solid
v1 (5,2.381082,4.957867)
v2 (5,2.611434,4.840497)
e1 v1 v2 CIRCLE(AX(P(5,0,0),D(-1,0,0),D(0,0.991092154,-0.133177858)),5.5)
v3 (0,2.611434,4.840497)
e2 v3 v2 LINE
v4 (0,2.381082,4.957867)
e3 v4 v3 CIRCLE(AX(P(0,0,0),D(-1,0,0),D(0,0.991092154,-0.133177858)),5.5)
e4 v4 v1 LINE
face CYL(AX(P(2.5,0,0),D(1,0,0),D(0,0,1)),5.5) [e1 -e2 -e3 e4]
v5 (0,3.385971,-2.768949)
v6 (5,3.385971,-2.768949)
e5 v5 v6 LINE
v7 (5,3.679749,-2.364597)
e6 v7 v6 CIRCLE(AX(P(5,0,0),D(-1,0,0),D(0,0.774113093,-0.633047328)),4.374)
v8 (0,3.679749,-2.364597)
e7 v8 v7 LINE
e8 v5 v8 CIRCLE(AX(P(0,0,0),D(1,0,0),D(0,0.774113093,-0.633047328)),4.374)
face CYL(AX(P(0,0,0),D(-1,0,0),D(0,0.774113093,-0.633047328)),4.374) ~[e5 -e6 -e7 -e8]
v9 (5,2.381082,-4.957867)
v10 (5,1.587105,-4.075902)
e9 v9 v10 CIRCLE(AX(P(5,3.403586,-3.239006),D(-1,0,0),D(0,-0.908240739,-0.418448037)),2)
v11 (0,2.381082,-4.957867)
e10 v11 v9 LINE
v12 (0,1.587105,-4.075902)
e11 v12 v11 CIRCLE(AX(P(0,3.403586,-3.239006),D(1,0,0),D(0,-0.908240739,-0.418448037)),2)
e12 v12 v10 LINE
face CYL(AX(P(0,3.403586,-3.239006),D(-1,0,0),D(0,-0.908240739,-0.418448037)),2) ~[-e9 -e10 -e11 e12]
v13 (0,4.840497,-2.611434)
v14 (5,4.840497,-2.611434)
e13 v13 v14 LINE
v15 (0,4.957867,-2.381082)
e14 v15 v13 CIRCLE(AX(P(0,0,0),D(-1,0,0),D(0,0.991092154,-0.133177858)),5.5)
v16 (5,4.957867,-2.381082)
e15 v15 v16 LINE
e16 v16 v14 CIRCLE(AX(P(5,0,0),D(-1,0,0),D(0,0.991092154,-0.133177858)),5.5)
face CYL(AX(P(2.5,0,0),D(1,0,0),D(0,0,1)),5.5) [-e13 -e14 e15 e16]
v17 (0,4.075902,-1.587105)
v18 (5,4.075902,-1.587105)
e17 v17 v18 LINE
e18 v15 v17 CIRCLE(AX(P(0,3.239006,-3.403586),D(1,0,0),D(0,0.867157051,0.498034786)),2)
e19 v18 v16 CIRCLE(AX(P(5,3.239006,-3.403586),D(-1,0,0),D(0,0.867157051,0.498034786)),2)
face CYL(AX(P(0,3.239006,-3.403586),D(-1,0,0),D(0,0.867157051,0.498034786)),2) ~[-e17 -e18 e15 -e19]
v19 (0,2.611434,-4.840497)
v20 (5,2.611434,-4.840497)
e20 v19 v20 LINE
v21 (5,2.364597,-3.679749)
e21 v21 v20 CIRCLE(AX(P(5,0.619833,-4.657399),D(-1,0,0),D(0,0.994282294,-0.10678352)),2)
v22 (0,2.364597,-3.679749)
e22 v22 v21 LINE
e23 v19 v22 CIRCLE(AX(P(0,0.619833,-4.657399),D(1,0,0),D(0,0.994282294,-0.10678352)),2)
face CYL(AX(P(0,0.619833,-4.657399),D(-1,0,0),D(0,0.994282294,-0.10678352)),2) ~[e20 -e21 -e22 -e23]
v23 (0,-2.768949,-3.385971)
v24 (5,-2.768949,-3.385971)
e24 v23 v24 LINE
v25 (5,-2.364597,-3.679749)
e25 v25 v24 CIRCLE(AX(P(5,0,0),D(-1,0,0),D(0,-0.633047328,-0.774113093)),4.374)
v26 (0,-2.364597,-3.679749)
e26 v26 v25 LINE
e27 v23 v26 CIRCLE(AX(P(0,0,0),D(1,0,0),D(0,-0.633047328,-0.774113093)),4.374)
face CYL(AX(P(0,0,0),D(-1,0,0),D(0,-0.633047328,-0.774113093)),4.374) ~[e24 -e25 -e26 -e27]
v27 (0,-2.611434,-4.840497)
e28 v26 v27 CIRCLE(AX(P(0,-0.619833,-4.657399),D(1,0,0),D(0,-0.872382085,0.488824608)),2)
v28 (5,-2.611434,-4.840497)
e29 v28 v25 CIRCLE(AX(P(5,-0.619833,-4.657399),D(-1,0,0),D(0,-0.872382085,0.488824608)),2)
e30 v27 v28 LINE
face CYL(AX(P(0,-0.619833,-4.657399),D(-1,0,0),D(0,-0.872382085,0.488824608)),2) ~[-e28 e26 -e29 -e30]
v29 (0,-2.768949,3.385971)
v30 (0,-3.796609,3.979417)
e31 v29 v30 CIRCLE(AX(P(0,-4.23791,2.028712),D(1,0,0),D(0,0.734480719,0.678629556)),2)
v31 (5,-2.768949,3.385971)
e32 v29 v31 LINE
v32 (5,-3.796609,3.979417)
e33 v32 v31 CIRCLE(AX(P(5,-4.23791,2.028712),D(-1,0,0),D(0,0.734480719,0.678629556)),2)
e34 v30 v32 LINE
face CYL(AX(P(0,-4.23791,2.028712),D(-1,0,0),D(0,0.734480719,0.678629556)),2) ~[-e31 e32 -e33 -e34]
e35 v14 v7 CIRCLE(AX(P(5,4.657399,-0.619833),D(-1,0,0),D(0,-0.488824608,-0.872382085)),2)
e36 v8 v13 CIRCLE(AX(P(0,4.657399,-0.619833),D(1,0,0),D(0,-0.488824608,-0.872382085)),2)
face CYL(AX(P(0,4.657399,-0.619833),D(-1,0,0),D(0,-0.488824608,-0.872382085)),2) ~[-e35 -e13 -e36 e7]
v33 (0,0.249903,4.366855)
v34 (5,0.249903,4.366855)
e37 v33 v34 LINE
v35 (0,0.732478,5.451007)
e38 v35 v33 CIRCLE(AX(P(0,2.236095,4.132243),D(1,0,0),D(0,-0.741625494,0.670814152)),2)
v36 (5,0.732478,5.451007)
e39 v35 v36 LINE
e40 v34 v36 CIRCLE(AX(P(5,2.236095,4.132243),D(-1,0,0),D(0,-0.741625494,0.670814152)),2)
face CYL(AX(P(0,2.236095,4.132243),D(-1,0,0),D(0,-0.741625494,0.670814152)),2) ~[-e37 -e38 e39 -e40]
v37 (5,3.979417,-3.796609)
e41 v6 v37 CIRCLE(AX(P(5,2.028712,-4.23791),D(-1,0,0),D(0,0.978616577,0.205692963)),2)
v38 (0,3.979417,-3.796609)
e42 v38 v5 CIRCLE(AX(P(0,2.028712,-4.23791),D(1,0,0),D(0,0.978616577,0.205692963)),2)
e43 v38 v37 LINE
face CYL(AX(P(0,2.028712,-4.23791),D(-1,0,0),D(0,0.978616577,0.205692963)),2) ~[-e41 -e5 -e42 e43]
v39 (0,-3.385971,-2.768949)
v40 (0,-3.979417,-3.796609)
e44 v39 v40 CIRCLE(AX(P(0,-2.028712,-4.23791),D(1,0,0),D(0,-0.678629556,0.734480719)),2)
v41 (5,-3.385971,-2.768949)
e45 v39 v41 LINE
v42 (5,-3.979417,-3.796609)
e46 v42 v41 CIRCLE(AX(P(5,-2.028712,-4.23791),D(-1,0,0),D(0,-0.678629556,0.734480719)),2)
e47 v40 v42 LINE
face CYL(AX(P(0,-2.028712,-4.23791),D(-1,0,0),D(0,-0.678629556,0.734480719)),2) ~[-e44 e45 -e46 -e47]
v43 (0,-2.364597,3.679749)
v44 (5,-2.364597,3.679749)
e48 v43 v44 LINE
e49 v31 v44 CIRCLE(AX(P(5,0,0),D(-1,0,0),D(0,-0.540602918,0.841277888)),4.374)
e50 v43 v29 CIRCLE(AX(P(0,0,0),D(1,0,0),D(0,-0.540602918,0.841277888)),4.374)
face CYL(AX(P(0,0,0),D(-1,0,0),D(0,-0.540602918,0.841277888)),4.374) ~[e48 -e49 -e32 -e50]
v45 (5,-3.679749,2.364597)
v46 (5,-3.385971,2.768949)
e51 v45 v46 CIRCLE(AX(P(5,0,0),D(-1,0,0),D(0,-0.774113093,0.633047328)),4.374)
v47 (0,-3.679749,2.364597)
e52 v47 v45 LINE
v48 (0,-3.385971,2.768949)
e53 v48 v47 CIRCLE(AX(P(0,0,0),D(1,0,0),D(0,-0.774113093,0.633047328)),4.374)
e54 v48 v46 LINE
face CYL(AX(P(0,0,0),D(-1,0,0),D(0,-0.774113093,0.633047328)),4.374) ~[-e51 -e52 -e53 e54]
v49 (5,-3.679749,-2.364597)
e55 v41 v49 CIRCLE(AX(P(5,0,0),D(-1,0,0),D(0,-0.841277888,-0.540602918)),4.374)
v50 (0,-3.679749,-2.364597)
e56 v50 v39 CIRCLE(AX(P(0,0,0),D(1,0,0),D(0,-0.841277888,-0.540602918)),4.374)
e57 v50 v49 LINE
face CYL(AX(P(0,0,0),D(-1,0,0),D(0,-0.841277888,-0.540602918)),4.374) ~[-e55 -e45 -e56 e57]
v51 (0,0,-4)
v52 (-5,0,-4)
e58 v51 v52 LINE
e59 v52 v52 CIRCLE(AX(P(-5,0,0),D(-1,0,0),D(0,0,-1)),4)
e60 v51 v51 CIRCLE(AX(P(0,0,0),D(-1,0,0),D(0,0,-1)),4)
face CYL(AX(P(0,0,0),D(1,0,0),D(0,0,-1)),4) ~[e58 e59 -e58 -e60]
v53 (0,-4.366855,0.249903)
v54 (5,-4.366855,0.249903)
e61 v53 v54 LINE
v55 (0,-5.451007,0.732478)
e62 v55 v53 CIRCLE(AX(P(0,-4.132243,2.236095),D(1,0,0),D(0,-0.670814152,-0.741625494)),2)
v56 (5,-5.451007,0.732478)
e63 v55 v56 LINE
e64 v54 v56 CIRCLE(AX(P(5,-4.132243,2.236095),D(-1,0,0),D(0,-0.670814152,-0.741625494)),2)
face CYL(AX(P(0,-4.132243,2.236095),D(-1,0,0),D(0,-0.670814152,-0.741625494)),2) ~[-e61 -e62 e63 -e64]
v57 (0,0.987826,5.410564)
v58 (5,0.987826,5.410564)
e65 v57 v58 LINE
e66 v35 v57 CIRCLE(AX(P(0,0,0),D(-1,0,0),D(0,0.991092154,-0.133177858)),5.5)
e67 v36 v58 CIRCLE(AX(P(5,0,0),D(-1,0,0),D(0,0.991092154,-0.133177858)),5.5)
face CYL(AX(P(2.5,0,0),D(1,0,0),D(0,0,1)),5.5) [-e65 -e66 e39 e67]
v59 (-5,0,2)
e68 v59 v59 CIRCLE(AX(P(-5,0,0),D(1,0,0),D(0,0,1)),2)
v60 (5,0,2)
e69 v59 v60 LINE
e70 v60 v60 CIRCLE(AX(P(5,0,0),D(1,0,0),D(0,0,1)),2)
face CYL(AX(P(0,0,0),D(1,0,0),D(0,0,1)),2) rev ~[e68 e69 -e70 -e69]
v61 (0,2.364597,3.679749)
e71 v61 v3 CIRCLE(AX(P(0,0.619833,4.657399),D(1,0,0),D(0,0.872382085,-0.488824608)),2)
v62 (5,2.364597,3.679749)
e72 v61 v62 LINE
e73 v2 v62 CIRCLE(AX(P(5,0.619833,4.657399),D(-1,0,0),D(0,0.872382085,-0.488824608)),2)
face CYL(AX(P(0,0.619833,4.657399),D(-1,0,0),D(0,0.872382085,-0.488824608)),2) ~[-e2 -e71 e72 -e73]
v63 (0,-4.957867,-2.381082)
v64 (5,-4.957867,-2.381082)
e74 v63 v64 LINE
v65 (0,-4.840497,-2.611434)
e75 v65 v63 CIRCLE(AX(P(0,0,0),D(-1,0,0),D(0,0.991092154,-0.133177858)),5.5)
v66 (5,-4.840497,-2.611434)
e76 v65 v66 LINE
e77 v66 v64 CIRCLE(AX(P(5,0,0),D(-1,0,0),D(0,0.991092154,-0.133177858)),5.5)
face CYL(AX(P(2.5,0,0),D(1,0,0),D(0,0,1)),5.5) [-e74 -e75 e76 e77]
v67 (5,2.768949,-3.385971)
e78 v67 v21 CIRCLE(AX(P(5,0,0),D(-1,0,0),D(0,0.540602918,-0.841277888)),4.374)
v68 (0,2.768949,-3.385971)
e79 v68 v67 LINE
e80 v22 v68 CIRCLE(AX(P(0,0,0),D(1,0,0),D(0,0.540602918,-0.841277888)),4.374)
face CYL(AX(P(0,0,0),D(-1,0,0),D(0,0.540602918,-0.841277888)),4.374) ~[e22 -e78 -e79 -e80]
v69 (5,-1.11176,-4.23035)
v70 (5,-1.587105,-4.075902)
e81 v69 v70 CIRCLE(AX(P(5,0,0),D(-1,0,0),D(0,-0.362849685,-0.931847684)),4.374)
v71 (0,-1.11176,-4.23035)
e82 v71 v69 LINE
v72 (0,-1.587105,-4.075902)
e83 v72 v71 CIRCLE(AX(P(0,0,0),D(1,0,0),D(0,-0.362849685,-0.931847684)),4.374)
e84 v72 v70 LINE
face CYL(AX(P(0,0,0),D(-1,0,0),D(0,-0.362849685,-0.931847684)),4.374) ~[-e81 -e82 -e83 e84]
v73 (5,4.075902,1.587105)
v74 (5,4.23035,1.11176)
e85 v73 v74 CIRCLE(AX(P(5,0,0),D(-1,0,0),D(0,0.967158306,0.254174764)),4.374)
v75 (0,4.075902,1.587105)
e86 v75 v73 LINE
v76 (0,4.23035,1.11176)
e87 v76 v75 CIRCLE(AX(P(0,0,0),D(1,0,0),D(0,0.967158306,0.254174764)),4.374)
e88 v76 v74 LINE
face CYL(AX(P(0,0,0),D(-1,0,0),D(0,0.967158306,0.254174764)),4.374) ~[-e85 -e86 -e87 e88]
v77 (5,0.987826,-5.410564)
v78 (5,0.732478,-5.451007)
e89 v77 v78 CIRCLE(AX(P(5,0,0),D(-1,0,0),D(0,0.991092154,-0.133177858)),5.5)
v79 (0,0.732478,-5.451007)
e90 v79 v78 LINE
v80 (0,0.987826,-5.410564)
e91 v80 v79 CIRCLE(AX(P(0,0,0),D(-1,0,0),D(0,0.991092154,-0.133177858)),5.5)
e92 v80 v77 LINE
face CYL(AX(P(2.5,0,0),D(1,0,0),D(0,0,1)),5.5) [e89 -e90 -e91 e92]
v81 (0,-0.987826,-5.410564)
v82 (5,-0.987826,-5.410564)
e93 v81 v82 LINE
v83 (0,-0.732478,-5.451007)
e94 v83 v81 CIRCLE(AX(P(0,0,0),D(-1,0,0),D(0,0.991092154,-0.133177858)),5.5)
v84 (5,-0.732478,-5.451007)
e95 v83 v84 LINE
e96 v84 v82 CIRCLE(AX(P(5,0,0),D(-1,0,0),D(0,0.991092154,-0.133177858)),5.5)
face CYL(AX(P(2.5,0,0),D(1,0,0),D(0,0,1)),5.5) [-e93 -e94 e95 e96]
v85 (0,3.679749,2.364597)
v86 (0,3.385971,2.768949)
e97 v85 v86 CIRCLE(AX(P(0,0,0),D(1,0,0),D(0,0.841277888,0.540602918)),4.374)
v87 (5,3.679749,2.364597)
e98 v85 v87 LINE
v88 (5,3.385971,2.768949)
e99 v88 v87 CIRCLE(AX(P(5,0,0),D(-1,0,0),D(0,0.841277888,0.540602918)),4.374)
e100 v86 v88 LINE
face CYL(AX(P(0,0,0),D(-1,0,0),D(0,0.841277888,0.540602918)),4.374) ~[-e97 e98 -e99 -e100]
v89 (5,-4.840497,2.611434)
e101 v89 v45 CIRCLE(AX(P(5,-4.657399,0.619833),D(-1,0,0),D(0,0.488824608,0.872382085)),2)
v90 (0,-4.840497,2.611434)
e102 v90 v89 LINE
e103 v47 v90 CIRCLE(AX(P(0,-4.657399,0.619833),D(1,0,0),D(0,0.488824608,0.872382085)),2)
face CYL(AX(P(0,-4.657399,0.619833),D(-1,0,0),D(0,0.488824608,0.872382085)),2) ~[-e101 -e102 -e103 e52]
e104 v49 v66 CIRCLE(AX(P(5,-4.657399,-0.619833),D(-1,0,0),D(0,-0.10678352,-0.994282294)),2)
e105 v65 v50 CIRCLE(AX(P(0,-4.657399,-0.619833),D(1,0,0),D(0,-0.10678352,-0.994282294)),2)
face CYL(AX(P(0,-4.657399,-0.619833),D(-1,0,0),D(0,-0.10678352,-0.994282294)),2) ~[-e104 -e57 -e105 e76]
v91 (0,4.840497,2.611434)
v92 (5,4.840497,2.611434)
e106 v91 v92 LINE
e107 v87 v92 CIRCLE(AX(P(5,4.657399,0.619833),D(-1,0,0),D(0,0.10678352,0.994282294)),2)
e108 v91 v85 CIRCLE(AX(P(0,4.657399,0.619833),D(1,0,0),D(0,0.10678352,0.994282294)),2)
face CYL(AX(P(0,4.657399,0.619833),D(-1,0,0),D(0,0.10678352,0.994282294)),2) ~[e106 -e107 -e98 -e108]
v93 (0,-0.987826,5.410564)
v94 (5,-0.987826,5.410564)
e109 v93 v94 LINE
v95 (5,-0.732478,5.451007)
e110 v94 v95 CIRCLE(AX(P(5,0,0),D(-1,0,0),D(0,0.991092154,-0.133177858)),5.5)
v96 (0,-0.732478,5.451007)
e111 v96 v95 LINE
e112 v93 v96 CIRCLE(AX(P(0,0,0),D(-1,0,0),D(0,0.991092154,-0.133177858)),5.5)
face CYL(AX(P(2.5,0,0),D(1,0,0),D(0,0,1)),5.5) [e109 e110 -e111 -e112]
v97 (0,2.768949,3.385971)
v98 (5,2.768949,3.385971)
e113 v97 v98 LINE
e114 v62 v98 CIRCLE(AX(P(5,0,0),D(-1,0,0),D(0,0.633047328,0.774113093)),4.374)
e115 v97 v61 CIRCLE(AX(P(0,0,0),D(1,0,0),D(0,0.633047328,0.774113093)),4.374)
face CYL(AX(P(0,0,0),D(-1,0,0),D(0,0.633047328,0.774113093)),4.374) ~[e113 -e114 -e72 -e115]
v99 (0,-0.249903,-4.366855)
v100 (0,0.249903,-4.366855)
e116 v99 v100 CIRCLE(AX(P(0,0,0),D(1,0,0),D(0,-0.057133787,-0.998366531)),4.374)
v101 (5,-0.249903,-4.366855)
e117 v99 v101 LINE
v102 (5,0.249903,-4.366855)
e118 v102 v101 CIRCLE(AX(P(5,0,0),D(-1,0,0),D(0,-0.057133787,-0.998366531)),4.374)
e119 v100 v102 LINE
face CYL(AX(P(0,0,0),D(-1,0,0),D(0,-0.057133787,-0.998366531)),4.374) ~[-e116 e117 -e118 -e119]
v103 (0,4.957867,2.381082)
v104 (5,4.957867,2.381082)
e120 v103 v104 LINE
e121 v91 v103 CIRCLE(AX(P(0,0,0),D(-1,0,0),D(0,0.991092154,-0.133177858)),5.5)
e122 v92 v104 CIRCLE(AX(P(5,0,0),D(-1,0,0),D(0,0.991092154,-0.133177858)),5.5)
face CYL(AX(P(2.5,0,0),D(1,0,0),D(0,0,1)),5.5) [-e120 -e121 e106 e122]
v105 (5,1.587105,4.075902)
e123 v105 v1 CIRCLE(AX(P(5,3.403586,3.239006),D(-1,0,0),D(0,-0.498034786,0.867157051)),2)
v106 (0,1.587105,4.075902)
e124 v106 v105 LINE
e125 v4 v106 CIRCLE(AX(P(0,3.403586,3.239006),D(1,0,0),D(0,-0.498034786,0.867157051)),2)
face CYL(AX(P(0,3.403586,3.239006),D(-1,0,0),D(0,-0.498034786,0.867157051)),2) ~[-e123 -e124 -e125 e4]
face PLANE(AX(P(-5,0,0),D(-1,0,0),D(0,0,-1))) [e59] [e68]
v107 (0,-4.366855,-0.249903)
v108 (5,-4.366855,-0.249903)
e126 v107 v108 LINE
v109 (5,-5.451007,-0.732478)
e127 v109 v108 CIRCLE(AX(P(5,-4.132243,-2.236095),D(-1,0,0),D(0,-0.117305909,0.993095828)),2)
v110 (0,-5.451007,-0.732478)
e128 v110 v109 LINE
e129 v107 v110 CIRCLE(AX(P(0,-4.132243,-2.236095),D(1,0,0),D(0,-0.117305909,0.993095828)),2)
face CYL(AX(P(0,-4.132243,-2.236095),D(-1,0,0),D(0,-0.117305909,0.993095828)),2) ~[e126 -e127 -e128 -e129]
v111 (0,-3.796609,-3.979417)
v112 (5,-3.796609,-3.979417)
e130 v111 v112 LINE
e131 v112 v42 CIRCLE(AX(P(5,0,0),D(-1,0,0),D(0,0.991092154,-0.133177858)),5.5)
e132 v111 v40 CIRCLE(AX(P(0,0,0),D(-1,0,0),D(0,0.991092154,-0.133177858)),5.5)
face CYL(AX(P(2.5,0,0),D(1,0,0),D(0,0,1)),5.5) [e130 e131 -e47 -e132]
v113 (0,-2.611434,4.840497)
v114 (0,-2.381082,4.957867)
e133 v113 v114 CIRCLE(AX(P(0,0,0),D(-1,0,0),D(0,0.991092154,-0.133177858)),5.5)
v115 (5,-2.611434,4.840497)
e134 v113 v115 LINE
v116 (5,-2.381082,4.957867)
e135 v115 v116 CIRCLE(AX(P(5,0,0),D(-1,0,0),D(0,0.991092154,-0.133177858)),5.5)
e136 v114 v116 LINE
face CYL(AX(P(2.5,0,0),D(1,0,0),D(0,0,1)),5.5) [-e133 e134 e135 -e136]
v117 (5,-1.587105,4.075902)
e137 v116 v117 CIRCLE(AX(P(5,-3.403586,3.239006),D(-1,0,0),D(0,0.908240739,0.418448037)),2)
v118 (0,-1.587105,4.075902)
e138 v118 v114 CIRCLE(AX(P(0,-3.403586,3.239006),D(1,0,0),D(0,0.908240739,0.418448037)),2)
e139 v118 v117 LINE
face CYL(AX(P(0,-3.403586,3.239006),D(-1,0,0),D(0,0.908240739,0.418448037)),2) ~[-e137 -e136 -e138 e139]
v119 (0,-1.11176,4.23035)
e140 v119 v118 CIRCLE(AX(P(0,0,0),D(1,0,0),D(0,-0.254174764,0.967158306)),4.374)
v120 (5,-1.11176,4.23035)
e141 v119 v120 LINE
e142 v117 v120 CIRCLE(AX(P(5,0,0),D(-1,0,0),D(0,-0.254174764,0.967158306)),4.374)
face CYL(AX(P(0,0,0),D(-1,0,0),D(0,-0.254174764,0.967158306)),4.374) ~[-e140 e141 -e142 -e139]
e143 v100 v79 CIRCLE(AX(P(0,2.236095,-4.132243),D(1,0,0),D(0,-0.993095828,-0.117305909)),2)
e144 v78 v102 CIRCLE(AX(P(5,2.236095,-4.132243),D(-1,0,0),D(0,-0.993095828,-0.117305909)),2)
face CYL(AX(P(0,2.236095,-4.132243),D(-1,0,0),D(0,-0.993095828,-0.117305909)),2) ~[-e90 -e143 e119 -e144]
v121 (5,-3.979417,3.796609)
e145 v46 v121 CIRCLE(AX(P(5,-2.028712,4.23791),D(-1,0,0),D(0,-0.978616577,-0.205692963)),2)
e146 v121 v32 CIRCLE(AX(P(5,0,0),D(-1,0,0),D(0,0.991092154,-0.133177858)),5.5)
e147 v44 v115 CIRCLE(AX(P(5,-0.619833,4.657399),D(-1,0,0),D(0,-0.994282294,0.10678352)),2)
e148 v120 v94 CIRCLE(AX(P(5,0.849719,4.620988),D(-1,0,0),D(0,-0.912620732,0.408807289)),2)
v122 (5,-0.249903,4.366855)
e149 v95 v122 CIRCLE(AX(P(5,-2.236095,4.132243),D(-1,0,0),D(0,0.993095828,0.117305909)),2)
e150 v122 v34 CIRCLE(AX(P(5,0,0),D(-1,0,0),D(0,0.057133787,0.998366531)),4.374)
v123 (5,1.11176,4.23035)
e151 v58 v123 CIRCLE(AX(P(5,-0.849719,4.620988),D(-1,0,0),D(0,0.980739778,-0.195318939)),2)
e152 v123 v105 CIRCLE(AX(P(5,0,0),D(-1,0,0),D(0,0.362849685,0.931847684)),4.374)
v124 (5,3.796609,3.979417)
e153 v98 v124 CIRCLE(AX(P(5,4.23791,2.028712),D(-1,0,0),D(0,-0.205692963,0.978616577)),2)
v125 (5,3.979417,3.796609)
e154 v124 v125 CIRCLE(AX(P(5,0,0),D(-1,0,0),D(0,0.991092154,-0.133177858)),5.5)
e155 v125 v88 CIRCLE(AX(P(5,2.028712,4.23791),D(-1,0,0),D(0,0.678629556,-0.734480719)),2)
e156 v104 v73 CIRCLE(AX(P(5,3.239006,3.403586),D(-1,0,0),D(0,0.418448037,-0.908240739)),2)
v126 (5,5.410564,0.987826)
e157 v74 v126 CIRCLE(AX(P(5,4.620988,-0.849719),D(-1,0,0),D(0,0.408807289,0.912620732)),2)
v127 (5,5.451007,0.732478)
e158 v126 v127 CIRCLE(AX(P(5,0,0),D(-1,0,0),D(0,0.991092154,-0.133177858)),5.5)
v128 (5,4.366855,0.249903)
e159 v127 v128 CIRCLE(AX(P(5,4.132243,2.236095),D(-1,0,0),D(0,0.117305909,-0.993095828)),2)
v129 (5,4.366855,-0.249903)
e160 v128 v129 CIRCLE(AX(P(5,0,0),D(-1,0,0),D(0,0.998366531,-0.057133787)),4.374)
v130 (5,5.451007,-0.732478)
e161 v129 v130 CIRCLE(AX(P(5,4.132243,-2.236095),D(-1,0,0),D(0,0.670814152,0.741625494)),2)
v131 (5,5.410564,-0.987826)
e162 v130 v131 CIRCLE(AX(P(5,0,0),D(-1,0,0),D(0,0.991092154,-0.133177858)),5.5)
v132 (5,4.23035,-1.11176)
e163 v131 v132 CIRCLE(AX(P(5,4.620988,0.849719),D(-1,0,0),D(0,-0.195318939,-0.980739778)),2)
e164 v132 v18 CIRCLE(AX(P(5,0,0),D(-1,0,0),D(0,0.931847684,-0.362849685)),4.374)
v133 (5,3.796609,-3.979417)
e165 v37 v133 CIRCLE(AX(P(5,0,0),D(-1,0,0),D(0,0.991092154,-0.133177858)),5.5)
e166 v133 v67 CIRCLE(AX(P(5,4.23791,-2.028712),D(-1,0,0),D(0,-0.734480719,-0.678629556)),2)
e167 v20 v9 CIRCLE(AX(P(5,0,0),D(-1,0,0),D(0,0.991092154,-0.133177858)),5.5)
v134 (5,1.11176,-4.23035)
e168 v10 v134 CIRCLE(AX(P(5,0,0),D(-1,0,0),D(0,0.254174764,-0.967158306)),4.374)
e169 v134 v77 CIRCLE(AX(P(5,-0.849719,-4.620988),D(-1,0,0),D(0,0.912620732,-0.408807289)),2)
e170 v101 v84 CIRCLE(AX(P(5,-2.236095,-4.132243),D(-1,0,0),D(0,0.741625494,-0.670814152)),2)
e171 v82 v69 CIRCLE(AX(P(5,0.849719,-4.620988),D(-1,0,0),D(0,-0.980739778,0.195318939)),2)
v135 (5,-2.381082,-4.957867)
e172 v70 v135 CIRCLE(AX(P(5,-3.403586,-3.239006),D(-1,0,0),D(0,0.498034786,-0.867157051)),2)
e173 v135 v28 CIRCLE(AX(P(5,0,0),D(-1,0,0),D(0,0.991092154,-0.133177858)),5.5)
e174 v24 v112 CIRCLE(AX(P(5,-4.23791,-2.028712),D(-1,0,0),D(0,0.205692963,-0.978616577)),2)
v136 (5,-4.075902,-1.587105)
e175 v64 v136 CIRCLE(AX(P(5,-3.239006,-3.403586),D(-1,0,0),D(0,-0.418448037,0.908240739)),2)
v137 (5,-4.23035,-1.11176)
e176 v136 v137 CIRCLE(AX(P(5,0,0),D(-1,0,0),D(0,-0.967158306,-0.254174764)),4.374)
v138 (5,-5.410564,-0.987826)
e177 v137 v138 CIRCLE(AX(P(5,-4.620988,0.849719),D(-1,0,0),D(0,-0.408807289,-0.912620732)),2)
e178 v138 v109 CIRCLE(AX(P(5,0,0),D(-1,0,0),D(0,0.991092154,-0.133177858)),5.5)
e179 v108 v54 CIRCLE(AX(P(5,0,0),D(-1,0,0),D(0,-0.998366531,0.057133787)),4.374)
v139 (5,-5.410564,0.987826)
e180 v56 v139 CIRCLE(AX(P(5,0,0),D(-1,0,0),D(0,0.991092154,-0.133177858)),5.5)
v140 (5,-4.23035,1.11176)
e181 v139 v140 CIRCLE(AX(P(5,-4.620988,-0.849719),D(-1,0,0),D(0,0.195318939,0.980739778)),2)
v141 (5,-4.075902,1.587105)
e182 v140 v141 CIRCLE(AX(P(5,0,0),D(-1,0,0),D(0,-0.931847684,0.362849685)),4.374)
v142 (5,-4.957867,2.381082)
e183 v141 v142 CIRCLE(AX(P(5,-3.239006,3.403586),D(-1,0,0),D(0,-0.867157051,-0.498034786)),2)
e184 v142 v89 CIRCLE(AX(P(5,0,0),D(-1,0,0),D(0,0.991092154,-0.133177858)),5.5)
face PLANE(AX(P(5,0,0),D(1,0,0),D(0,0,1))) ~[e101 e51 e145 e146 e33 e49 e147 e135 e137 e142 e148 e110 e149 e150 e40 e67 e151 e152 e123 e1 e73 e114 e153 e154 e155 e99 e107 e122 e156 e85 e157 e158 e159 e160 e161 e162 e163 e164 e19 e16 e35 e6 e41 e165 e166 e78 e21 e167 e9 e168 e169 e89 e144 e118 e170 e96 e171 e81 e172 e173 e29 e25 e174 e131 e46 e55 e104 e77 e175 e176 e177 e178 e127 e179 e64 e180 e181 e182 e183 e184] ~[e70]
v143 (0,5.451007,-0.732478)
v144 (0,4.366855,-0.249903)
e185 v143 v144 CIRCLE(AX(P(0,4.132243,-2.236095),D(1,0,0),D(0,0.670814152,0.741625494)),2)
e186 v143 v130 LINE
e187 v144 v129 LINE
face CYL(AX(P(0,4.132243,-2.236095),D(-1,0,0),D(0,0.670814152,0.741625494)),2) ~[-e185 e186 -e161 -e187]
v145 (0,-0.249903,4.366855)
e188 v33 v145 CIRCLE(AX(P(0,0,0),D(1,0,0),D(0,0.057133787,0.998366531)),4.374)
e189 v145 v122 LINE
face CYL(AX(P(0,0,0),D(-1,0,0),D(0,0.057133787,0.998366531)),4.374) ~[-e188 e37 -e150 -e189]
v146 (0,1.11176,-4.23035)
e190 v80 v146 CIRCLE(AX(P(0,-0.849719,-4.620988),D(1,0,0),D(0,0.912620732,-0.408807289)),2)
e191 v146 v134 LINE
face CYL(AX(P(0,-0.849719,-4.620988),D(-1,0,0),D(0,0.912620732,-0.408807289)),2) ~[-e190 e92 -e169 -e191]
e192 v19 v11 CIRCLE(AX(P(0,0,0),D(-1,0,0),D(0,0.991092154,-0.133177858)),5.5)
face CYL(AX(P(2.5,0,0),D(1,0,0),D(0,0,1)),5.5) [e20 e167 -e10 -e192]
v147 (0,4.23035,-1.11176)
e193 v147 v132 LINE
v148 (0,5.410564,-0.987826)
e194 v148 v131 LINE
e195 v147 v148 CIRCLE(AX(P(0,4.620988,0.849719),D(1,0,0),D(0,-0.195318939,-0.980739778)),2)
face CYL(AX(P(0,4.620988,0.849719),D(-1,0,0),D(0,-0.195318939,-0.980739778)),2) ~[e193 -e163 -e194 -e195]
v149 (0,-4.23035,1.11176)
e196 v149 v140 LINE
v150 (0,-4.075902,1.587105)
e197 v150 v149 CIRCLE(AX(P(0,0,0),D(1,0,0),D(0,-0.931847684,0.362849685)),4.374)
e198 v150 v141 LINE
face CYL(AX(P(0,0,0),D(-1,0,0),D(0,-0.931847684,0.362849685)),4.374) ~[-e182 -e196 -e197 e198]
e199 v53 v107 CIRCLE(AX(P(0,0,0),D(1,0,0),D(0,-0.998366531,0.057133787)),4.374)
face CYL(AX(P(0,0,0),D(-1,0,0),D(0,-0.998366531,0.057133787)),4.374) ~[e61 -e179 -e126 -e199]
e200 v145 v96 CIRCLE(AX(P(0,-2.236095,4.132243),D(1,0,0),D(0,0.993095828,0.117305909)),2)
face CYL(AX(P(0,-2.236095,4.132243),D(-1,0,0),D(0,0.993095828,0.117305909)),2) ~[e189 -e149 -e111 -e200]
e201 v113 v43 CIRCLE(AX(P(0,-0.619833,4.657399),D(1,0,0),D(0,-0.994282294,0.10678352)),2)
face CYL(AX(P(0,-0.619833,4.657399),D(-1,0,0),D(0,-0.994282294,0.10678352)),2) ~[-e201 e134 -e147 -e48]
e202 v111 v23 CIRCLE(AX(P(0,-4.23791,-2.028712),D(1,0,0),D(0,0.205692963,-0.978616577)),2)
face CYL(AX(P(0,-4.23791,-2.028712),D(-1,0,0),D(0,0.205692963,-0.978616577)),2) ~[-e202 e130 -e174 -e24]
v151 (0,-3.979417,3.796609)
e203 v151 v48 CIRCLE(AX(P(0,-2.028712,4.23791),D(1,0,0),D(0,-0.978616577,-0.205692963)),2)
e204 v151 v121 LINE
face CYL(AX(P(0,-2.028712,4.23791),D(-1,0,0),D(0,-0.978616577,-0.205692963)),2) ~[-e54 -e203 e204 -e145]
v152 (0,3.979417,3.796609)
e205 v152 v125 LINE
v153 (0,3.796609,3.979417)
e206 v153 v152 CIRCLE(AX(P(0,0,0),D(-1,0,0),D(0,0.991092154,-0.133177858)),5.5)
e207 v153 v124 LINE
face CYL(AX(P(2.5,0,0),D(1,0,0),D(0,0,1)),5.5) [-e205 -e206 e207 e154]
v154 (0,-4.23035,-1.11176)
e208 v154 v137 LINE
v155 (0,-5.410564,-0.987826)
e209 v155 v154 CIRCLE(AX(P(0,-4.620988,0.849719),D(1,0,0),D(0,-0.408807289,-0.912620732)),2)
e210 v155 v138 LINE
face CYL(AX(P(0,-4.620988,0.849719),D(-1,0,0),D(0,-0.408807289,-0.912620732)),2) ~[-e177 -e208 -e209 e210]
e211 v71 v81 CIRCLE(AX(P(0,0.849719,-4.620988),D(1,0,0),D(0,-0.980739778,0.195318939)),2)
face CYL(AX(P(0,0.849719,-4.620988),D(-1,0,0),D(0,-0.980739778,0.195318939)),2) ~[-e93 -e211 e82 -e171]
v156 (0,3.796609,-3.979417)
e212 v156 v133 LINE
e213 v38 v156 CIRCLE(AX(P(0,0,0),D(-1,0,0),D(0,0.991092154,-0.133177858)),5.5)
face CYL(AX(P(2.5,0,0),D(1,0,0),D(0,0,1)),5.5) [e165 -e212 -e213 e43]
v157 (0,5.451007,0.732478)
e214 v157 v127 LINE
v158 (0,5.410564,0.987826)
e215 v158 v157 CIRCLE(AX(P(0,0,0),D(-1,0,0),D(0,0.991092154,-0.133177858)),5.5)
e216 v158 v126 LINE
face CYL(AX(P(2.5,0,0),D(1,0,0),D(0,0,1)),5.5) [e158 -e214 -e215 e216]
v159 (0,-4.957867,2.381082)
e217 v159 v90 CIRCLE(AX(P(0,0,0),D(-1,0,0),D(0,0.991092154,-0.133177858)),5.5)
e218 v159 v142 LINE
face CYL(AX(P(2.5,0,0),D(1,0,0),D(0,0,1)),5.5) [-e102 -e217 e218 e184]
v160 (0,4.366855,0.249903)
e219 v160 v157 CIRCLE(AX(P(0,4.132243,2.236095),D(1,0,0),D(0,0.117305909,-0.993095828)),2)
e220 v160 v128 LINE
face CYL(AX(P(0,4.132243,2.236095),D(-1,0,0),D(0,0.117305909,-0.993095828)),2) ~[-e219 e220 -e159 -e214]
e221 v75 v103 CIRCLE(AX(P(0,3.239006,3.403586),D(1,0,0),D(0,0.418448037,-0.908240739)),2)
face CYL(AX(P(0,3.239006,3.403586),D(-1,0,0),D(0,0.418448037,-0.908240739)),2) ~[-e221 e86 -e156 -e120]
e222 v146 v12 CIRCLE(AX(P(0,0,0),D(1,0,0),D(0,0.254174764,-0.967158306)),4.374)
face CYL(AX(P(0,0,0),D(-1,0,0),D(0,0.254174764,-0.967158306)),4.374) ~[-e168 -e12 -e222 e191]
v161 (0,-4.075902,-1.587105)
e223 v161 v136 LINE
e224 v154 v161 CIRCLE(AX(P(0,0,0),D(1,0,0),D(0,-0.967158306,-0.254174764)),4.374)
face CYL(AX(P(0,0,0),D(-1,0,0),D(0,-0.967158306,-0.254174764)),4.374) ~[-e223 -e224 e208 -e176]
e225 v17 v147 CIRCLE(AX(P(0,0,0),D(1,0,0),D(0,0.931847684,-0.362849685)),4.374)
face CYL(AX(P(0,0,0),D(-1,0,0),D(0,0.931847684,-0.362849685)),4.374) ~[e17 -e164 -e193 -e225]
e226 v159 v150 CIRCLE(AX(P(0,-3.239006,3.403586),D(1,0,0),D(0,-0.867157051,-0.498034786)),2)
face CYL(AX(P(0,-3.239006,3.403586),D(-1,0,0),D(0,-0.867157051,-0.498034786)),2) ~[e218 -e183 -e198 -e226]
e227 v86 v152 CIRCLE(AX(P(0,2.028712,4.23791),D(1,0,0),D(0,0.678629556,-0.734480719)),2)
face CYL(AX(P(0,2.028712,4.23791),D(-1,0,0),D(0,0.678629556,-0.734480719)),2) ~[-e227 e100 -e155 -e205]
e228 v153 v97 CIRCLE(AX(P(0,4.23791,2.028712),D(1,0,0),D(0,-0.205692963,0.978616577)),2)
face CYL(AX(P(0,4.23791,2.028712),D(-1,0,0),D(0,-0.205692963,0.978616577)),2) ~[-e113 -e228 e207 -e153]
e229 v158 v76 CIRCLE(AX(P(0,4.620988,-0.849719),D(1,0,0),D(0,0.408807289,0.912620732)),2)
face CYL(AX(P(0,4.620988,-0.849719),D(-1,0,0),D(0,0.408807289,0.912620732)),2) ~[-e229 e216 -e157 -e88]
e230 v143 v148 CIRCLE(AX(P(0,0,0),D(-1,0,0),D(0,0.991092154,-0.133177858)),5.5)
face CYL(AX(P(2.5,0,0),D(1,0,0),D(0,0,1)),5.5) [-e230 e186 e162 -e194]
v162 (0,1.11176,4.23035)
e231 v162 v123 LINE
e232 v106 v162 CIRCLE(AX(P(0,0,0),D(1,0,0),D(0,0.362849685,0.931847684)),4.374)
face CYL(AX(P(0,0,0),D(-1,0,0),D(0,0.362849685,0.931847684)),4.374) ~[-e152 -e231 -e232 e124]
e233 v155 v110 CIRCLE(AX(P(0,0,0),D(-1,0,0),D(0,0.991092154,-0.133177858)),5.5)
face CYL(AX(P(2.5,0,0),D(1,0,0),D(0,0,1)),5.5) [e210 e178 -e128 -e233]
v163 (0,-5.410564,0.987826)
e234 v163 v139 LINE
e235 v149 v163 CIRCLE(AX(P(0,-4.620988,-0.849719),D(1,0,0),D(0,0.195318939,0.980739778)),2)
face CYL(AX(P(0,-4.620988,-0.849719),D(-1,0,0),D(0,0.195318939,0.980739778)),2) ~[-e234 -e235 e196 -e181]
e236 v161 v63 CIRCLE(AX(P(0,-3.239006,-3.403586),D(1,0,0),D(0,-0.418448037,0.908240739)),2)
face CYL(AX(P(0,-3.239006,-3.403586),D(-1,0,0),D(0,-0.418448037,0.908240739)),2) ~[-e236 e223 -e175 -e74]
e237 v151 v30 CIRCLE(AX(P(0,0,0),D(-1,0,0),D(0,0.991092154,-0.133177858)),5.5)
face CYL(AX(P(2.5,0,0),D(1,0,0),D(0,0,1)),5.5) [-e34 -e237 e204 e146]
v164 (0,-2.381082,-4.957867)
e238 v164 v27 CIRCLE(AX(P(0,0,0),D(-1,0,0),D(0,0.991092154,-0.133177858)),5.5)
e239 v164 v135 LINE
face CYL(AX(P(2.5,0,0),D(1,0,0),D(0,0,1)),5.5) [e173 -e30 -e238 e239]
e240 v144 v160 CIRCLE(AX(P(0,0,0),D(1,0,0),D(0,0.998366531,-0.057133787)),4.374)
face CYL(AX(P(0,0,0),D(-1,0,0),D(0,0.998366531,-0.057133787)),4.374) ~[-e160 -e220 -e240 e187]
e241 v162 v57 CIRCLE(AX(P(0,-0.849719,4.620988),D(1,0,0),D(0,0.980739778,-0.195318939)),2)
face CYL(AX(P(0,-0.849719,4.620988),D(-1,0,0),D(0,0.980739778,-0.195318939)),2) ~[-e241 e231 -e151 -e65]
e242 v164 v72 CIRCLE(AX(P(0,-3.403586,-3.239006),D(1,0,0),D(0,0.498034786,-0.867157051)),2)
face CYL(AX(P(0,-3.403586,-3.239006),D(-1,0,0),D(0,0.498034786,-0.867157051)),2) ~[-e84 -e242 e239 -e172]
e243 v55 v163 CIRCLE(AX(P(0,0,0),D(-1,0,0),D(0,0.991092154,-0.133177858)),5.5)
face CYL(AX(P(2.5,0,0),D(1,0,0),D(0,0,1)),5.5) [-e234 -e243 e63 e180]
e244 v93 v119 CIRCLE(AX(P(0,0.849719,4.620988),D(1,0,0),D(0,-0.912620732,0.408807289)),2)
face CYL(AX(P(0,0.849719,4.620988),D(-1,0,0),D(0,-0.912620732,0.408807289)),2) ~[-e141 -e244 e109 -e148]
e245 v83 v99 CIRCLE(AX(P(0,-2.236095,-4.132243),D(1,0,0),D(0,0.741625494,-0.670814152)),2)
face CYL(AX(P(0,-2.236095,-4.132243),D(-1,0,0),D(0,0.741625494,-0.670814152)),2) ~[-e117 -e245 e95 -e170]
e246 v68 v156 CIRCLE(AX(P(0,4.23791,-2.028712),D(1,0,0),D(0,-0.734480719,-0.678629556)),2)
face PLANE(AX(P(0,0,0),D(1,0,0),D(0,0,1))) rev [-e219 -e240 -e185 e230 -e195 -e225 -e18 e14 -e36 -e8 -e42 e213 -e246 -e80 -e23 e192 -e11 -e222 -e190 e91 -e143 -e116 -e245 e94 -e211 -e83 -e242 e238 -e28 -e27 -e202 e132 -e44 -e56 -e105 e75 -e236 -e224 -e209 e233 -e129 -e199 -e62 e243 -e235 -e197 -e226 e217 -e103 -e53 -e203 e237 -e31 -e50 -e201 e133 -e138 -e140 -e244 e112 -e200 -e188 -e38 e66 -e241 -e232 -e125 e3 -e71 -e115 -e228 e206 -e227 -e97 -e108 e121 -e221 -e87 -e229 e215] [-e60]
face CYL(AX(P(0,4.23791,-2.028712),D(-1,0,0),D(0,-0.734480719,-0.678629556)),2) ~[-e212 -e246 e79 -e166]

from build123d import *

# Parameters (mm, degrees)
BASPROSKE_W      = 5
BASPROSKE_H      = 5.5
TOOTHCUT_DEPTH   = 10.246621004
TEETHCUTS_COUNT  = 20
TEETHCUTS_ANGLE  = 342
HUBNEAONESKE_R   = 4
HUBNEARONE_DEPTH = 5
BORSKE_R         = 2
BORE_DEPTH       = 5.0000508


with BuildPart() as part:
    # BasProSke → Base-Revolve (revolve)
    with BuildSketch(Plane(origin=(0, 0, 0), x_dir=(1, 0, 0), z_dir=(0, 1, 0)), mode=Mode.PRIVATE) as base_revolve_sk:
        with Locations((2.5, 2.75)):
            Rectangle(BASPROSKE_W, BASPROSKE_H)
    revolve(base_revolve_sk.sketch.rotate(Axis((-10, 0, 0), (1, 0, 0)), 180), axis=Axis((-10, 0, 0), (1, 0, 0)))

    # TooCutSke → ToothCut (cut, through all)
    with BuildSketch(Plane(origin=(0, 0, 0), x_dir=(0, 0, -1), z_dir=(1, 0, 0))):
        with BuildLine():
            ThreePointArc((0.249903181, 4.366855207), (0, 4.374), (-0.249903181, 4.366855207))
            ThreePointArc((-0.249903181, 4.366855207), (-0.415207844, 4.95951031), (-0.752843848, 5.473871692))
            ThreePointArc((-0.752843848, 5.473871692), (0, 5.5254), (0.752843848, 5.473871692))
            ThreePointArc((0.752843848, 5.473871692), (0.415207844, 4.95951031), (0.249903181, 4.366855207))
        make_face()
    toothcut = extrude(amount=TOOTHCUT_DEPTH, mode=Mode.SUBTRACT)

    # TeethCuts: ToothCut ×20 about axis
    teethcuts_axis = Axis((-10, 0, 0), (1, 0, 0))
    for i in range(1, TEETHCUTS_COUNT):
        add(toothcut.rotate(teethcuts_axis, i * TEETHCUTS_ANGLE / (TEETHCUTS_COUNT - 1)), mode=Mode.SUBTRACT)

    # HubNeaOneSke → HubNearOne (add)
    with BuildSketch(Plane.ZY):
        with Locations(Location((0, 0, 0), (0, 0, 180))):
            Circle(HUBNEAONESKE_R)
    extrude(amount=HUBNEARONE_DEPTH)

    # BorSke → Bore (cut, symmetric)
    with BuildSketch(Plane(origin=(0, 0, 0), x_dir=(0, 0, -1), z_dir=(1, 0, 0))):
        with Locations(Location((0, 0, 0), (0, 0, 180))):
            Circle(BORSKE_R)
    extrude(amount=BORE_DEPTH, both=True, mode=Mode.SUBTRACT)


solid = part.part
